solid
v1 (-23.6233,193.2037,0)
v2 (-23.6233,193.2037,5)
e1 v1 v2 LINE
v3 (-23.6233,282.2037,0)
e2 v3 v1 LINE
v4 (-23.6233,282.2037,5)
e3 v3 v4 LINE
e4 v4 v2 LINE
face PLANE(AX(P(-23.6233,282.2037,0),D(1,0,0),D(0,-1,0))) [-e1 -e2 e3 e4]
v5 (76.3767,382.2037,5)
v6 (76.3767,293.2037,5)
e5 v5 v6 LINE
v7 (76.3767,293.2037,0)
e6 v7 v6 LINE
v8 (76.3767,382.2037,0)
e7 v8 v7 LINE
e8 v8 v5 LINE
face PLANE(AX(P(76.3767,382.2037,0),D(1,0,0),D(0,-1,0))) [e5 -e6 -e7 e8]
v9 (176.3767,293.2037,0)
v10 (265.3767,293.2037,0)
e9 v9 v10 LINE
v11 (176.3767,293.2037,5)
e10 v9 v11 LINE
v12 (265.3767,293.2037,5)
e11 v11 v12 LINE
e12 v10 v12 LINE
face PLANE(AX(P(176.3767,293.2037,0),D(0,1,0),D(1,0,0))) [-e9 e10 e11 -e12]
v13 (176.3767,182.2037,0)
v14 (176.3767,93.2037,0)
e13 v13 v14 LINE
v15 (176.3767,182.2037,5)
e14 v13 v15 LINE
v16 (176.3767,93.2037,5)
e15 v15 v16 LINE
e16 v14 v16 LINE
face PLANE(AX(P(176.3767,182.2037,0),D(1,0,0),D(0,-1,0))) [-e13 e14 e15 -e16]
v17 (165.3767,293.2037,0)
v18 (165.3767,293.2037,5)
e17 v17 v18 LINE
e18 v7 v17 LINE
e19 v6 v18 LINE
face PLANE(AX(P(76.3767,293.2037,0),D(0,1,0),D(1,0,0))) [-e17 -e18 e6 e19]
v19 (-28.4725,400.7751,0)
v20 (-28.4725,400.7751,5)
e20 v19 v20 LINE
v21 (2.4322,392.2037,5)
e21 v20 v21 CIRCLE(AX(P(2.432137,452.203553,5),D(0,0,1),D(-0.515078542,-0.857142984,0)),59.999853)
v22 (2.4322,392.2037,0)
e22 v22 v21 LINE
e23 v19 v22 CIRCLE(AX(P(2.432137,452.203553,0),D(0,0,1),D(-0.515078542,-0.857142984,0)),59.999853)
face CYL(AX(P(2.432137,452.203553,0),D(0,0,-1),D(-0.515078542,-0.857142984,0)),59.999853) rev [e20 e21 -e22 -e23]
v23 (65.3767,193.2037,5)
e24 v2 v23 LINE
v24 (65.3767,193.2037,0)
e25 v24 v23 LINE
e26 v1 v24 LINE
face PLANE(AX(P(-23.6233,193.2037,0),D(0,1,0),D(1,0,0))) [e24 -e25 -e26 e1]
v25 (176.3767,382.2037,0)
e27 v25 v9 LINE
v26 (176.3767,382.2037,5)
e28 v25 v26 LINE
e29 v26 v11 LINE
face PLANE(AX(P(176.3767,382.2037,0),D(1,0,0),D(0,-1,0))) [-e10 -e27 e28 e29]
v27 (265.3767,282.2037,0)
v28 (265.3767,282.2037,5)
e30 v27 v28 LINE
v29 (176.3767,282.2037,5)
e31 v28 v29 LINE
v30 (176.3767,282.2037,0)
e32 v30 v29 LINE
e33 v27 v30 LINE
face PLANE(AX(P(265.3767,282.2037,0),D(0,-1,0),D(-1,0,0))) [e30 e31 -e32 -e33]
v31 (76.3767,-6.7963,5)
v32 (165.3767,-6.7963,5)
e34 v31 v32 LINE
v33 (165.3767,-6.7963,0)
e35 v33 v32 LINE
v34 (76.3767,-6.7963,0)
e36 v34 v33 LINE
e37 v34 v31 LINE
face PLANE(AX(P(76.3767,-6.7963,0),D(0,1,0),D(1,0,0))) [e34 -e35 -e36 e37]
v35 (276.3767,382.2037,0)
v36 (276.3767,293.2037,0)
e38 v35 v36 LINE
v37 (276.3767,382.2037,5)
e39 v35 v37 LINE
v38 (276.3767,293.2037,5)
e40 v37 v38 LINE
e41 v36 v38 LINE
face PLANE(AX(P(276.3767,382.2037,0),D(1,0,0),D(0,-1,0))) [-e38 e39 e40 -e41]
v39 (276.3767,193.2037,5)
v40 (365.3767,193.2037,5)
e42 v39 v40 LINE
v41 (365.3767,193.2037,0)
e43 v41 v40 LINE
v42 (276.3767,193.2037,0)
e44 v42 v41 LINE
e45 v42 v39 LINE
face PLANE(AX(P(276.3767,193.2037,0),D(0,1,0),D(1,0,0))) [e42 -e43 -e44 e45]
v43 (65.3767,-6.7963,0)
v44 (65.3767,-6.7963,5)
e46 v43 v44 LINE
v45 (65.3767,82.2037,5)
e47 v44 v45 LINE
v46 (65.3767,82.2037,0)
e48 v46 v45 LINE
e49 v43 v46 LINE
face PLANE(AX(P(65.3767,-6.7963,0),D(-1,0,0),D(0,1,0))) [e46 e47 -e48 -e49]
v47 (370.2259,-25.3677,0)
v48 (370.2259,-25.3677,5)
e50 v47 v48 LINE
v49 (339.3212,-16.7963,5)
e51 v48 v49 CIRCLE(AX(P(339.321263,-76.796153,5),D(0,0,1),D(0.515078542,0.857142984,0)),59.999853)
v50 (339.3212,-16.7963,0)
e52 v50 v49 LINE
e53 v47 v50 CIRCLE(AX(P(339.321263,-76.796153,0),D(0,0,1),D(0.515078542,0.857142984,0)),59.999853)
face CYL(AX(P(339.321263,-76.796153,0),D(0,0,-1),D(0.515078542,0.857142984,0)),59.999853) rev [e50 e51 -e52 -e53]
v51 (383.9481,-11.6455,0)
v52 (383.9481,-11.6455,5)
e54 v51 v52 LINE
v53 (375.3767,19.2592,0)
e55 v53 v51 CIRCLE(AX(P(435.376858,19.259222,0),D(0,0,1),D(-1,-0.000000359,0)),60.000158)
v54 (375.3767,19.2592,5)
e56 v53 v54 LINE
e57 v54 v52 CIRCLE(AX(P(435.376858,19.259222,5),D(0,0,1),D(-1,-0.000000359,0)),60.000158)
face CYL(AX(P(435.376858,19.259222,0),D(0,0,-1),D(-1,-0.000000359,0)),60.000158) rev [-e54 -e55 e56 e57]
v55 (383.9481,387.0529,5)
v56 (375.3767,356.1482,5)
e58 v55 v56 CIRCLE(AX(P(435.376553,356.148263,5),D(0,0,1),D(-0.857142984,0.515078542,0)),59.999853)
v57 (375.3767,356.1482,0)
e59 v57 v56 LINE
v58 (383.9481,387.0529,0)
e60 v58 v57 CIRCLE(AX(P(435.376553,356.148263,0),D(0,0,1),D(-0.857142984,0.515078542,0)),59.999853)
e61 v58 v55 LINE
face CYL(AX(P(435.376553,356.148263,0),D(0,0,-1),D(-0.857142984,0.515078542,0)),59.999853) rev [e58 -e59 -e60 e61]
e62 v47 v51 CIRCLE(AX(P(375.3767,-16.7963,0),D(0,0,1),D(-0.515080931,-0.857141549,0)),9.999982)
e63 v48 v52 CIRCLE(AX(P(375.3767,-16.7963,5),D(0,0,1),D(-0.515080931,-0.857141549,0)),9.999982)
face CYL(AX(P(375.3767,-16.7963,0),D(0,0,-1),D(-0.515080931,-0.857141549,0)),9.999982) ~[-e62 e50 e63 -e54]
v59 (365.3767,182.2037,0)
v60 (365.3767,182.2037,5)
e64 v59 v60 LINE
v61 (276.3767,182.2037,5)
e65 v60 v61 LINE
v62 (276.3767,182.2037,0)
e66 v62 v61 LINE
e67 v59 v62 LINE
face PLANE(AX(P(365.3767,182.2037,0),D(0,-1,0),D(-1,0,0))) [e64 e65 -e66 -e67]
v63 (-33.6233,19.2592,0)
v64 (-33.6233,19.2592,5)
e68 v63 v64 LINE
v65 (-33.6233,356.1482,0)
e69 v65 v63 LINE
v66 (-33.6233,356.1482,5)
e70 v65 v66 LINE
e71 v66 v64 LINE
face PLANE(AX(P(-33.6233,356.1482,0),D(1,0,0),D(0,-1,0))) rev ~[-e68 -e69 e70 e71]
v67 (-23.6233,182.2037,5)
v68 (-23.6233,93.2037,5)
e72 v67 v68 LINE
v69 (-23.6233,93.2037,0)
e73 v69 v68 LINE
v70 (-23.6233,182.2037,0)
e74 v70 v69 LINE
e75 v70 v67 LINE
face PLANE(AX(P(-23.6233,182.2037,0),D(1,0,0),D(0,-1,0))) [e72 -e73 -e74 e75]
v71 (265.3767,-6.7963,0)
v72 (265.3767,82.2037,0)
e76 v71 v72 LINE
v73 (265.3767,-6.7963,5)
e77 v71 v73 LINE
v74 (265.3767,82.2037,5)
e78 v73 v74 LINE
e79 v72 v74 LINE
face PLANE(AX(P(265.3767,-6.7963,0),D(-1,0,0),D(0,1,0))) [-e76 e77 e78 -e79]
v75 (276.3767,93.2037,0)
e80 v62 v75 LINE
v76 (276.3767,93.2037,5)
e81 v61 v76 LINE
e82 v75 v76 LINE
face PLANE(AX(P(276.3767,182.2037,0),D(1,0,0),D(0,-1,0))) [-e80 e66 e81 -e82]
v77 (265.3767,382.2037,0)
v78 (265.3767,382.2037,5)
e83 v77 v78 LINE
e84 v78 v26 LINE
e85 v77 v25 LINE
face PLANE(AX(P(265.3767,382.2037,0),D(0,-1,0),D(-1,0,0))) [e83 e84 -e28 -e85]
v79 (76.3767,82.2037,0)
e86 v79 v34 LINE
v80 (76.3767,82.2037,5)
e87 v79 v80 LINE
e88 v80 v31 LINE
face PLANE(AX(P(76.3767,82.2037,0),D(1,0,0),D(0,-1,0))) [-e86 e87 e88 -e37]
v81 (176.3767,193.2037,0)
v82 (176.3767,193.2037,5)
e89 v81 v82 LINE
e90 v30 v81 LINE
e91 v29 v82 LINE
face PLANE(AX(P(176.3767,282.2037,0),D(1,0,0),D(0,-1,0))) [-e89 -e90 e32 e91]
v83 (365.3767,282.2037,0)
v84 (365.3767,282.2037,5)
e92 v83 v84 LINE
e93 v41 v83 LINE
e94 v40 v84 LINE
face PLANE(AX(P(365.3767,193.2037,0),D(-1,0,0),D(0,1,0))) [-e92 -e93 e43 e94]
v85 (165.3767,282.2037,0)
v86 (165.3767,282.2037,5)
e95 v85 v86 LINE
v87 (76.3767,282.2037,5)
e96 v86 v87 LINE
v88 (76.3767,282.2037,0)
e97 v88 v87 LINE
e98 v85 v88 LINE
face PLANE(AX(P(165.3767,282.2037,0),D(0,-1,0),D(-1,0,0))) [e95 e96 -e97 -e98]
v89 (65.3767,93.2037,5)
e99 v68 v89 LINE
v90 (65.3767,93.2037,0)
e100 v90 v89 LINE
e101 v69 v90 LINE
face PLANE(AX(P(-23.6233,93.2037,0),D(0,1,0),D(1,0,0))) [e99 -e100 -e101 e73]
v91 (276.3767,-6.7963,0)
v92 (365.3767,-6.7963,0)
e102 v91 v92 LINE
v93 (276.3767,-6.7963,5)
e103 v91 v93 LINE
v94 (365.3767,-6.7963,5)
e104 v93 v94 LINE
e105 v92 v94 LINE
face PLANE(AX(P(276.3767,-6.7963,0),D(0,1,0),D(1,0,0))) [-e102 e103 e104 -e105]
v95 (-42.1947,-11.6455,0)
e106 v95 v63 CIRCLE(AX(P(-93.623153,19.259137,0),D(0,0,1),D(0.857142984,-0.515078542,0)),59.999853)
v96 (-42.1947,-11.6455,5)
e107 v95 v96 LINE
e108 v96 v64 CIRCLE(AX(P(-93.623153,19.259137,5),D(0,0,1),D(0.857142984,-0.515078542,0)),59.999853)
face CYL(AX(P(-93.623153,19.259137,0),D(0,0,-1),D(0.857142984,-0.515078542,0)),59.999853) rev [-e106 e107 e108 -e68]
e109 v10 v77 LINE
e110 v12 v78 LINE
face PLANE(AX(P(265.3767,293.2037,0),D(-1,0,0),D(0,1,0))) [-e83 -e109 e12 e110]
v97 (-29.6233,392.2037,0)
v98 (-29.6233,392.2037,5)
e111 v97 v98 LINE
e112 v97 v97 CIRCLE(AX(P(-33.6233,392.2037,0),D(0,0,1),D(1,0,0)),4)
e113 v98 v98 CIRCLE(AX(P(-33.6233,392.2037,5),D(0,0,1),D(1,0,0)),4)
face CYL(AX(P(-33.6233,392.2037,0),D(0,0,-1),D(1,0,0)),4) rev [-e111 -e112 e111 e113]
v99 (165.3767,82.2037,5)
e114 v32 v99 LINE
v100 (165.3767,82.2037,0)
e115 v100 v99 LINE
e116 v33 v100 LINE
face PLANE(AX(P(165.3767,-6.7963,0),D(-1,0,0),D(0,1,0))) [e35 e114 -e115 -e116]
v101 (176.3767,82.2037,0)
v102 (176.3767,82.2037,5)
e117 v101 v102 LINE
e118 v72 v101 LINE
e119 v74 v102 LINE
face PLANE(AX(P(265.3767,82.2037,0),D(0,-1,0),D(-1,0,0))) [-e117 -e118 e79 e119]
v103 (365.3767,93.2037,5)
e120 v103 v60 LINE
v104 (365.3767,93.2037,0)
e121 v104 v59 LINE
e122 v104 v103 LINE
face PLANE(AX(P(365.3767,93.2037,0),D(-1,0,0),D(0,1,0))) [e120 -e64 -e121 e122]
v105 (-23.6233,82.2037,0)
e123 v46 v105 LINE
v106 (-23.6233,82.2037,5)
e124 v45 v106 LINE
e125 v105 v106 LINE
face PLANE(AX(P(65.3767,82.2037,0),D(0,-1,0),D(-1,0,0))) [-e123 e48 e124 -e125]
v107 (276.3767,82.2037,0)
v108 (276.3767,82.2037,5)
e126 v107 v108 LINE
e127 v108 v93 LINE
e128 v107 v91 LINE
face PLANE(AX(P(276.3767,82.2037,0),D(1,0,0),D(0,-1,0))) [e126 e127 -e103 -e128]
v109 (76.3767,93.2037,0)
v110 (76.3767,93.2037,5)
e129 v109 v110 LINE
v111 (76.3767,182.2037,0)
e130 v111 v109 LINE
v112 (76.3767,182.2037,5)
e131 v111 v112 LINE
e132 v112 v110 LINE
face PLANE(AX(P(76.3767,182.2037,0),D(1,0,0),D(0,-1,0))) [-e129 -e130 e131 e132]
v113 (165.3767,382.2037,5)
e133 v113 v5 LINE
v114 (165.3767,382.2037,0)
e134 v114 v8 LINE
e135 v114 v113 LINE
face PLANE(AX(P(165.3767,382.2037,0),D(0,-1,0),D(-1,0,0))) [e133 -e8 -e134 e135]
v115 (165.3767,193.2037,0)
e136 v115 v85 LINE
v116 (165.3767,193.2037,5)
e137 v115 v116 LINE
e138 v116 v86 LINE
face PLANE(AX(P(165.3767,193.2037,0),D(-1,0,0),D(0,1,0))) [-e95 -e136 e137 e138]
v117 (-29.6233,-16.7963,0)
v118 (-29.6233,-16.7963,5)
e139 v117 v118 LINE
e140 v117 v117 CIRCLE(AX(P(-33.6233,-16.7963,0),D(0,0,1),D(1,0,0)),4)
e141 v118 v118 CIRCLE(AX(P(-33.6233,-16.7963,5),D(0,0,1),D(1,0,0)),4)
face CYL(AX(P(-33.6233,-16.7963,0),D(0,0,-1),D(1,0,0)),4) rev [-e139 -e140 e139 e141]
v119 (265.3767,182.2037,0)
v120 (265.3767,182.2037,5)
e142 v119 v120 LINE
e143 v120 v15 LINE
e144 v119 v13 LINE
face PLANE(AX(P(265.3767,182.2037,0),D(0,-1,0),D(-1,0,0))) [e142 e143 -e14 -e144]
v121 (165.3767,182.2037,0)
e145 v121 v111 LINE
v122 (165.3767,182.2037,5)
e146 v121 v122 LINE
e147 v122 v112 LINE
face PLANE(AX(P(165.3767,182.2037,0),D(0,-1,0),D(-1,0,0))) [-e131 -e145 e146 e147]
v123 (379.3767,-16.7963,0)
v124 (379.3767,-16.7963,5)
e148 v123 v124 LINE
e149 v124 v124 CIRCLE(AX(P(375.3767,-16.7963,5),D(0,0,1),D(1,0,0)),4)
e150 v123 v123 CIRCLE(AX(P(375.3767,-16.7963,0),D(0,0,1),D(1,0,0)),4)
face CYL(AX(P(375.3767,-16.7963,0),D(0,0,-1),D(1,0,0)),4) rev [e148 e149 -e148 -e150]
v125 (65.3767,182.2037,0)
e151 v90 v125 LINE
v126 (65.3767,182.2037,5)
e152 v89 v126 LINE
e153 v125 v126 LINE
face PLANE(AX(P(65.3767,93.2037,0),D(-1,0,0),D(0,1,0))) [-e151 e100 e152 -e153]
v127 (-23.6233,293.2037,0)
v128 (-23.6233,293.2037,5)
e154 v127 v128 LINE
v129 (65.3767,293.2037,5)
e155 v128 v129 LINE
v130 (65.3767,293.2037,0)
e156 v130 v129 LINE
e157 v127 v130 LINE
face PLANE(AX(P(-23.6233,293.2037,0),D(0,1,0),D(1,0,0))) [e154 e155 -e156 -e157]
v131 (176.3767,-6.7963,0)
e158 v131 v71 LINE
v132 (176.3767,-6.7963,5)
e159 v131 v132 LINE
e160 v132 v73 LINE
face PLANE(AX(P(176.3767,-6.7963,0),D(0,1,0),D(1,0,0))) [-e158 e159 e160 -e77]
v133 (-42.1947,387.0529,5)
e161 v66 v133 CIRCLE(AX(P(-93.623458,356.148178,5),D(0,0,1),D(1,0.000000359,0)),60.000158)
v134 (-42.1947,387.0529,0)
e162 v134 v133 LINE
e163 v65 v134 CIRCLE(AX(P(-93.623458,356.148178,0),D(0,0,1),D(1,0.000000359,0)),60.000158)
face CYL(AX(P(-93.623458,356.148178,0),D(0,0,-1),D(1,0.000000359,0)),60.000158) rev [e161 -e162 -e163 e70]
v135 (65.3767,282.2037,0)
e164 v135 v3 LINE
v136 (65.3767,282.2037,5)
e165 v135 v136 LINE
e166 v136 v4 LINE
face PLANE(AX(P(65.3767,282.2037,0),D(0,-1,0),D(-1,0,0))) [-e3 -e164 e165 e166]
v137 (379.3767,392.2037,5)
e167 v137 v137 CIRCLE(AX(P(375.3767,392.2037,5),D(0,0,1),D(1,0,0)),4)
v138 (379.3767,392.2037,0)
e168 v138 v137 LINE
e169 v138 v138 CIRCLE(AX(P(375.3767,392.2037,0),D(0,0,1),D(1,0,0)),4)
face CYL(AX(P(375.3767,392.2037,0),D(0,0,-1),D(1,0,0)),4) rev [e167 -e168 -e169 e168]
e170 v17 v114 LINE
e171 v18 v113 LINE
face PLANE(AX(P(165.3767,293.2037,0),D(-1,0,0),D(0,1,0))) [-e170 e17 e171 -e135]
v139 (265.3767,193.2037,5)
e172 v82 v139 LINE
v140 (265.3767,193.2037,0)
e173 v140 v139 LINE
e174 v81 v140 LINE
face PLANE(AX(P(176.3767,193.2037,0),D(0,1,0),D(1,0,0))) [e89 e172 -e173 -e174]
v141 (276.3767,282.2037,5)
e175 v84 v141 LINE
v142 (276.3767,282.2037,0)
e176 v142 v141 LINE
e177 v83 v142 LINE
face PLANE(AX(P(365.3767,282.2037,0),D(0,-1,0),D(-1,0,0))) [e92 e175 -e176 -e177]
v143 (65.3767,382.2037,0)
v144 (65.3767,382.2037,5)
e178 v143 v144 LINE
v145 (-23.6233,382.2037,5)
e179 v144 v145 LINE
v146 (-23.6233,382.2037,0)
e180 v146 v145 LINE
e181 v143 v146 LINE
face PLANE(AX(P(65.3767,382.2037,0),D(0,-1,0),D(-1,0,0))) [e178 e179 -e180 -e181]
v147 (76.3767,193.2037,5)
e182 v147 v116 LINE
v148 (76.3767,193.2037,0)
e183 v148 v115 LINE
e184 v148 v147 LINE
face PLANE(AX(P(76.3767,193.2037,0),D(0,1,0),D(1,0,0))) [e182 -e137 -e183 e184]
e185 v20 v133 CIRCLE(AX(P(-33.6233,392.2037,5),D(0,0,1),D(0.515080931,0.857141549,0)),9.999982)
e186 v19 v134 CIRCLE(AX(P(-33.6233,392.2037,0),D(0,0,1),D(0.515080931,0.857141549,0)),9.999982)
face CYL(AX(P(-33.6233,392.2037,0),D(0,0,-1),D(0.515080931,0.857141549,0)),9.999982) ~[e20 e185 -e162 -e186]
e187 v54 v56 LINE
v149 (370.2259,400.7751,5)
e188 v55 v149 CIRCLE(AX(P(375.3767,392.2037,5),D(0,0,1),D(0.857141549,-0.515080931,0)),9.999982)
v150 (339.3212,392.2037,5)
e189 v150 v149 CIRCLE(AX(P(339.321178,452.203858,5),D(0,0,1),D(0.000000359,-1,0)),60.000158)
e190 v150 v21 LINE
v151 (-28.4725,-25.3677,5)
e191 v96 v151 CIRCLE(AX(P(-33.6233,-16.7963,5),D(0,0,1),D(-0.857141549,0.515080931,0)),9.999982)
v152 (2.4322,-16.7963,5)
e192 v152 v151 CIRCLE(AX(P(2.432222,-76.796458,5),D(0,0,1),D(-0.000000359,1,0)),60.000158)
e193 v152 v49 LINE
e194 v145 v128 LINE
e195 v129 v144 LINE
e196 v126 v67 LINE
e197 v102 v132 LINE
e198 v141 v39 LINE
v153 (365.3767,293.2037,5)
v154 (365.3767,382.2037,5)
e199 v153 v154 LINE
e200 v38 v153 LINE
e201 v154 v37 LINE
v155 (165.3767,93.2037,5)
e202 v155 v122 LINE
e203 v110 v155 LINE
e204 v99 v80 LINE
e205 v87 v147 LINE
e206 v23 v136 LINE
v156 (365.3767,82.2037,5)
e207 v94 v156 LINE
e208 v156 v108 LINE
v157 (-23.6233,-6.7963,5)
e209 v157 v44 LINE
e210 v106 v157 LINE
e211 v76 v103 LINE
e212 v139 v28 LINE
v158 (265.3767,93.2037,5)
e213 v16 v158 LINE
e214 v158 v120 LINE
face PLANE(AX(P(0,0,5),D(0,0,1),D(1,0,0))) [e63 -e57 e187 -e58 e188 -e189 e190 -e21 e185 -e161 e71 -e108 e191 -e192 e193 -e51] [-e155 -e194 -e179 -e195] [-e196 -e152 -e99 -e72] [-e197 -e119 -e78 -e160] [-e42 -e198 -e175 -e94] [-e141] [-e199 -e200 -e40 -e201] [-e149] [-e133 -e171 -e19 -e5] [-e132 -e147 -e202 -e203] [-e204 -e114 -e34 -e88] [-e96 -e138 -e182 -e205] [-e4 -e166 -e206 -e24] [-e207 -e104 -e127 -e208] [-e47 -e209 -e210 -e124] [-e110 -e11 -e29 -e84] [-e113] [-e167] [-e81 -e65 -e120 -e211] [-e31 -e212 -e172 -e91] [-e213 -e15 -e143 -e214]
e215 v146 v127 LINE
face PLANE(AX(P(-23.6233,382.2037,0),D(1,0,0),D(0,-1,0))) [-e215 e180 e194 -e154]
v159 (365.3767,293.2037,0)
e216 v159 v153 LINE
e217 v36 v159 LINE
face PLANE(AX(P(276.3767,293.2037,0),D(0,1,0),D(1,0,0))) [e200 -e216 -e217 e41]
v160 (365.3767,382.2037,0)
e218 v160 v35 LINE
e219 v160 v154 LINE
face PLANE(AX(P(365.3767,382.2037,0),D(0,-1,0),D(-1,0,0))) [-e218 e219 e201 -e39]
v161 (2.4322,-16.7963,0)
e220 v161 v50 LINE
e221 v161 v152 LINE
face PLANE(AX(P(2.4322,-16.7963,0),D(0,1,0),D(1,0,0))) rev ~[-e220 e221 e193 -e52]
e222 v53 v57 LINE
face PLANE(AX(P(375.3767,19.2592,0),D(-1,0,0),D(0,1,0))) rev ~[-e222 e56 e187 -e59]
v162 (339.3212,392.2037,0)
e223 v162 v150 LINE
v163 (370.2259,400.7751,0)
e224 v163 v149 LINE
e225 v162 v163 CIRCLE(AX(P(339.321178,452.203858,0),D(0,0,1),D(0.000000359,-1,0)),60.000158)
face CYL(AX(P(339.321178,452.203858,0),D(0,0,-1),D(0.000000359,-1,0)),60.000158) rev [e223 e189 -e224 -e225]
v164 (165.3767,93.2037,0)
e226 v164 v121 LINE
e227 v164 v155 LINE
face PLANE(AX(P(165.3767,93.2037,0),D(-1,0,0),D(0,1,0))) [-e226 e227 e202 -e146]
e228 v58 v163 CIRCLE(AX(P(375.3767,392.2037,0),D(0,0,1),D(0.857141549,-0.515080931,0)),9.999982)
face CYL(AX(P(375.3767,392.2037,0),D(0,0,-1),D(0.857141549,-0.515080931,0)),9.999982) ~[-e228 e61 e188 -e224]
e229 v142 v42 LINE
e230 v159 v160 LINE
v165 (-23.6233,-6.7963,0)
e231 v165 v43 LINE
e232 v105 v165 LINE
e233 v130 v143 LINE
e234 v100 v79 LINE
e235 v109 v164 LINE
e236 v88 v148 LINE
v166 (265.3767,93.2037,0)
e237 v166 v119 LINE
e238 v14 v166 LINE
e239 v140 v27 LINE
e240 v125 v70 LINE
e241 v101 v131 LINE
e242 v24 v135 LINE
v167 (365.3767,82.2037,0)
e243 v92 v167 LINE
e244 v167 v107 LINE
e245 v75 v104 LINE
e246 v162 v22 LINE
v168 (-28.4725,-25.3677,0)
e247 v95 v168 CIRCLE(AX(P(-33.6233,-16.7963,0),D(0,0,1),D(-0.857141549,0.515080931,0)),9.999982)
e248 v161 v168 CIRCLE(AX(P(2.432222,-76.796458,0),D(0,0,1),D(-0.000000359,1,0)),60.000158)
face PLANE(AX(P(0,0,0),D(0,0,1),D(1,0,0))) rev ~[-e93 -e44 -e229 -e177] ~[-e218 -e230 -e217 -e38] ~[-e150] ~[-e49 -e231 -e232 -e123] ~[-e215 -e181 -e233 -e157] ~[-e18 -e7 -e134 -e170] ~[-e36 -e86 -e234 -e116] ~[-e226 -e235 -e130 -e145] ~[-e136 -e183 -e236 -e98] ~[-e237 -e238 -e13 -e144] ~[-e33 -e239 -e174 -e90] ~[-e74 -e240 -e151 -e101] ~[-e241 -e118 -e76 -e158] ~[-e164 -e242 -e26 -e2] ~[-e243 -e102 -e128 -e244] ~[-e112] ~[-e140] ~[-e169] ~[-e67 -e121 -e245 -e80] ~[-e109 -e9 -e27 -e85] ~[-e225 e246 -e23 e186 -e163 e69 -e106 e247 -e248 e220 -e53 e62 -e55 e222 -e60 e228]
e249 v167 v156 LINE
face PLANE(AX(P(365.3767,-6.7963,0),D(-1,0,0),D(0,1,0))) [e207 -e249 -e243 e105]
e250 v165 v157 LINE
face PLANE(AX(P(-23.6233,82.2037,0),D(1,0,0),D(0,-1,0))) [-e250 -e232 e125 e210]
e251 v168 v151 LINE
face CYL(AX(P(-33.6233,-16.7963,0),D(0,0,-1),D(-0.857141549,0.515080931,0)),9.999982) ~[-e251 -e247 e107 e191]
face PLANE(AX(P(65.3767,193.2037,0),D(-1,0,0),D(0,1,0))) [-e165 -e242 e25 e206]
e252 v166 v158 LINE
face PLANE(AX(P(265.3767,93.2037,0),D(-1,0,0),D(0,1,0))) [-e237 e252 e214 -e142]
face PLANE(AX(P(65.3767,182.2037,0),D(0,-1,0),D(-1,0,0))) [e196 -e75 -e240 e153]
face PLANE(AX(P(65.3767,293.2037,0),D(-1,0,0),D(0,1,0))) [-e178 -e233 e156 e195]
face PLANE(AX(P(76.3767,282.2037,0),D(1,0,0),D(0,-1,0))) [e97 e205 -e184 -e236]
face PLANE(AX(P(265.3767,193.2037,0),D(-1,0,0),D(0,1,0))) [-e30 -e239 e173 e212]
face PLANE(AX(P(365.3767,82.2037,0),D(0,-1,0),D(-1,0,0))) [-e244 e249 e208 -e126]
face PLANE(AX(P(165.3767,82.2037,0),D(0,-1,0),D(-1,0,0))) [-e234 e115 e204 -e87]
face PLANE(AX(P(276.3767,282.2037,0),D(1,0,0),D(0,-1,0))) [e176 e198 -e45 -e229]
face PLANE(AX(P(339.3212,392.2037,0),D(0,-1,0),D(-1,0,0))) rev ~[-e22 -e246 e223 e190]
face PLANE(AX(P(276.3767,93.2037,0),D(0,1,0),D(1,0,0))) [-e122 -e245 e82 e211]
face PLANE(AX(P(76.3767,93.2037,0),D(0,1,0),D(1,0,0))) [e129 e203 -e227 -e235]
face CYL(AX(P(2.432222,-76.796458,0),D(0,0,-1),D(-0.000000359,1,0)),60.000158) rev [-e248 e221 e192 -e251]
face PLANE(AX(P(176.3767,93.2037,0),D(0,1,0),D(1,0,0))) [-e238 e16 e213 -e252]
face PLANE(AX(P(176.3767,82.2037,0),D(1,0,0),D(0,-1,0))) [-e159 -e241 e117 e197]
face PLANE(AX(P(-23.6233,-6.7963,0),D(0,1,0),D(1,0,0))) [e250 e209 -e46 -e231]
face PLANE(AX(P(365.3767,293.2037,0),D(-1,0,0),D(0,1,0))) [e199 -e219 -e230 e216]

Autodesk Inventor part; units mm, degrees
ref_plane "YZ Plane" through (0, 0, 0) normal (1, 0, 0) x (0, 1, 0)
ref_plane "XZ Plane" through (0, 0, 0) normal (0, 1, 0) x (-1, 0, 0)
ref_plane "XY Plane" through (0, 0, 0) normal (0, 0, 1) x (1, 0, 0)
sketch "Sketch1" plane through (0, 0, 0) normal (0, 0, 1) x (1, 0, 0)
  line L0 (-23.6233, -6.7963) -> (65.3767, -6.7963)
  line L1 (65.3767, -6.7963) -> (65.3767, 82.2037)
  line L2 (65.3767, 82.2037) -> (-23.6233, 82.2037)
  line L3 (-23.6233, 82.2037) -> (-23.6233, -6.7963)
  line L4 (-23.6233, 93.2037) -> (65.3767, 93.2037)
  line L5 (65.3767, 93.2037) -> (65.3767, 182.2037)
  line L6 (65.3767, 182.2037) -> (-23.6233, 182.2037)
  line L7 (-23.6233, 182.2037) -> (-23.6233, 93.2037)
  line L8 (-23.6233, 193.2037) -> (65.3767, 193.2037)
  line L9 (65.3767, 193.2037) -> (65.3767, 282.2037)
  line L10 (65.3767, 282.2037) -> (-23.6233, 282.2037)
  line L11 (-23.6233, 282.2037) -> (-23.6233, 193.2037)
  line L12 (-23.6233, 293.2037) -> (65.3767, 293.2037)
  line L13 (65.3767, 293.2037) -> (65.3767, 382.2037)
  line L14 (65.3767, 382.2037) -> (-23.6233, 382.2037)
  line L15 (-23.6233, 382.2037) -> (-23.6233, 293.2037)
  line L16 (76.3767, -6.7963) -> (165.3767, -6.7963)
  line L17 (165.3767, -6.7963) -> (165.3767, 82.2037)
  line L18 (165.3767, 82.2037) -> (76.3767, 82.2037)
  line L19 (76.3767, 82.2037) -> (76.3767, -6.7963)
  line L20 (76.3767, 93.2037) -> (165.3767, 93.2037)
  line L21 (165.3767, 93.2037) -> (165.3767, 182.2037)
  line L22 (165.3767, 182.2037) -> (76.3767, 182.2037)
  line L23 (76.3767, 182.2037) -> (76.3767, 93.2037)
  line L24 (76.3767, 193.2037) -> (165.3767, 193.2037)
  line L25 (165.3767, 193.2037) -> (165.3767, 282.2037)
  line L26 (165.3767, 282.2037) -> (76.3767, 282.2037)
  line L27 (76.3767, 282.2037) -> (76.3767, 193.2037)
  line L28 (76.3767, 293.2037) -> (165.3767, 293.2037)
  line L29 (165.3767, 293.2037) -> (165.3767, 382.2037)
  line L30 (165.3767, 382.2037) -> (76.3767, 382.2037)
  line L31 (76.3767, 382.2037) -> (76.3767, 293.2037)
  line L32 (176.3767, -6.7963) -> (265.3767, -6.7963)
  line L33 (265.3767, -6.7963) -> (265.3767, 82.2037)
  line L34 (265.3767, 82.2037) -> (176.3767, 82.2037)
  line L35 (176.3767, 82.2037) -> (176.3767, -6.7963)
  line L36 (176.3767, 93.2037) -> (265.3767, 93.2037)
  line L37 (265.3767, 93.2037) -> (265.3767, 182.2037)
  line L38 (265.3767, 182.2037) -> (176.3767, 182.2037)
  line L39 (176.3767, 182.2037) -> (176.3767, 93.2037)
  line L40 (176.3767, 193.2037) -> (265.3767, 193.2037)
  line L41 (265.3767, 193.2037) -> (265.3767, 282.2037)
  line L42 (265.3767, 282.2037) -> (176.3767, 282.2037)
  line L43 (176.3767, 282.2037) -> (176.3767, 193.2037)
  line L44 (176.3767, 293.2037) -> (265.3767, 293.2037)
  line L45 (265.3767, 293.2037) -> (265.3767, 382.2037)
  line L46 (265.3767, 382.2037) -> (176.3767, 382.2037)
  line L47 (176.3767, 382.2037) -> (176.3767, 293.2037)
  line L48 (276.3767, -6.7963) -> (365.3767, -6.7963)
  line L49 (365.3767, -6.7963) -> (365.3767, 82.2037)
  line L50 (365.3767, 82.2037) -> (276.3767, 82.2037)
  line L51 (276.3767, 82.2037) -> (276.3767, -6.7963)
  line L52 (276.3767, 93.2037) -> (365.3767, 93.2037)
  line L53 (365.3767, 93.2037) -> (365.3767, 182.2037)
  line L54 (365.3767, 182.2037) -> (276.3767, 182.2037)
  line L55 (276.3767, 182.2037) -> (276.3767, 93.2037)
  line L56 (276.3767, 193.2037) -> (365.3767, 193.2037)
  line L57 (365.3767, 193.2037) -> (365.3767, 282.2037)
  line L58 (365.3767, 282.2037) -> (276.3767, 282.2037)
  line L59 (276.3767, 282.2037) -> (276.3767, 193.2037)
  line L60 (276.3767, 293.2037) -> (365.3767, 293.2037)
  line L61 (365.3767, 293.2037) -> (365.3767, 382.2037)
  line L62 (365.3767, 382.2037) -> (276.3767, 382.2037)
  line L63 (276.3767, 382.2037) -> (276.3767, 293.2037)
  circle A0 centre (-33.6233, -16.7963) radius 4
  arc A1 (-42.1947, -11.6455) -> (-33.6233, 19.2592) centre (-93.6233, 19.2592) ccw
  arc A2 (2.4322, -16.7963) -> (-28.4725, -25.3677) centre (2.4322, -76.7963) ccw
  arc A3 (-42.1947, -11.6455) -> (-28.4725, -25.3677) centre (-33.6233, -16.7963) ccw
  arc A4 (375.3767, 19.2592) -> (383.9481, -11.6455) centre (435.3767, 19.2592) ccw
  circle A5 centre (375.3767, -16.7963) radius 4
  arc A6 (370.2259, -25.3677) -> (383.9481, -11.6455) centre (375.3767, -16.7963) ccw
  arc A7 (370.2259, -25.3677) -> (339.3212, -16.7963) centre (339.3212, -76.7963) ccw
  arc A8 (339.3212, 392.2037) -> (370.2259, 400.7751) centre (339.3212, 452.2037) ccw
  circle A9 centre (375.3767, 392.2037) radius 4
  arc A10 (383.9481, 387.0529) -> (370.2259, 400.7751) centre (375.3767, 392.2037) ccw
  arc A11 (383.9481, 387.0529) -> (375.3767, 356.1482) centre (435.3767, 356.1482) ccw
  arc A12 (-33.6233, 356.1482) -> (-42.1947, 387.0529) centre (-93.6233, 356.1482) ccw
  circle A13 centre (-33.6233, 392.2037) radius 4
  arc A14 (-28.4725, 400.7751) -> (-42.1947, 387.0529) centre (-33.6233, 392.2037) ccw
  arc A15 (-28.4725, 400.7751) -> (2.4322, 392.2037) centre (2.4322, 452.2037) ccw
  line L64 (2.4322, -16.7963) -> (339.3212, -16.7963)
  line L65 (375.3767, 19.2592) -> (375.3767, 356.1482)
  line L66 (-33.6233, 356.1482) -> (-33.6233, 19.2592)
  line L67 (339.3212, 392.2037) -> (2.4322, 392.2037)
  point P0 (0, 0)
  point P1 (0, 100)
  point P2 (0, 200)
  point P3 (0, 300)
  point P4 (100, 0)
  point P5 (100, 100)
  point P6 (100, 200)
  point P7 (100, 300)
  point P8 (200, 0)
  point P9 (200, 100)
  point P10 (200, 200)
  point P11 (200, 300)
  point P12 (300, 0)
  point P13 (300, 100)
  point P14 (300, 200)
  point P15 (300, 300)
  point P16 (170.8767, 187.7037)
  dimension "d0" = 89
  dimension "d1" = 89
  dimension "d4" = 100
  dimension "d7" = 100
  dimension "d10" = 8
  dimension "d11" = 10
  dimension "d12" = 10
  dimension "d17" = 60
  dimension "d18" = 60
  dimension "d21" = 360
extrude "Extrusion1" add sketch "Sketch1" along normal blind 5
sketch "Sketch2" plane through (0, 0, 5) normal (0, 0, 1) x (1, 0, 0)
  line L0 (165.3767, 182.2037) -> (165.3767, 93.2037) projected
  line L1 (265.3767, 193.2037) -> (176.3767, 193.2037) projected
  line L2 (165.3767, 182.2037) -> (176.3767, 182.2037)
  line L3 (176.3767, 182.2037) -> (176.3767, 193.2037)
  line L4 (176.3767, 193.2037) -> (165.3767, 193.2037)
  line L5 (165.3767, 193.2037) -> (165.3767, 182.2037)
  point P0 (0, 0)
  point P1 (170.8767, 187.7037)
properties part number "b-base"
